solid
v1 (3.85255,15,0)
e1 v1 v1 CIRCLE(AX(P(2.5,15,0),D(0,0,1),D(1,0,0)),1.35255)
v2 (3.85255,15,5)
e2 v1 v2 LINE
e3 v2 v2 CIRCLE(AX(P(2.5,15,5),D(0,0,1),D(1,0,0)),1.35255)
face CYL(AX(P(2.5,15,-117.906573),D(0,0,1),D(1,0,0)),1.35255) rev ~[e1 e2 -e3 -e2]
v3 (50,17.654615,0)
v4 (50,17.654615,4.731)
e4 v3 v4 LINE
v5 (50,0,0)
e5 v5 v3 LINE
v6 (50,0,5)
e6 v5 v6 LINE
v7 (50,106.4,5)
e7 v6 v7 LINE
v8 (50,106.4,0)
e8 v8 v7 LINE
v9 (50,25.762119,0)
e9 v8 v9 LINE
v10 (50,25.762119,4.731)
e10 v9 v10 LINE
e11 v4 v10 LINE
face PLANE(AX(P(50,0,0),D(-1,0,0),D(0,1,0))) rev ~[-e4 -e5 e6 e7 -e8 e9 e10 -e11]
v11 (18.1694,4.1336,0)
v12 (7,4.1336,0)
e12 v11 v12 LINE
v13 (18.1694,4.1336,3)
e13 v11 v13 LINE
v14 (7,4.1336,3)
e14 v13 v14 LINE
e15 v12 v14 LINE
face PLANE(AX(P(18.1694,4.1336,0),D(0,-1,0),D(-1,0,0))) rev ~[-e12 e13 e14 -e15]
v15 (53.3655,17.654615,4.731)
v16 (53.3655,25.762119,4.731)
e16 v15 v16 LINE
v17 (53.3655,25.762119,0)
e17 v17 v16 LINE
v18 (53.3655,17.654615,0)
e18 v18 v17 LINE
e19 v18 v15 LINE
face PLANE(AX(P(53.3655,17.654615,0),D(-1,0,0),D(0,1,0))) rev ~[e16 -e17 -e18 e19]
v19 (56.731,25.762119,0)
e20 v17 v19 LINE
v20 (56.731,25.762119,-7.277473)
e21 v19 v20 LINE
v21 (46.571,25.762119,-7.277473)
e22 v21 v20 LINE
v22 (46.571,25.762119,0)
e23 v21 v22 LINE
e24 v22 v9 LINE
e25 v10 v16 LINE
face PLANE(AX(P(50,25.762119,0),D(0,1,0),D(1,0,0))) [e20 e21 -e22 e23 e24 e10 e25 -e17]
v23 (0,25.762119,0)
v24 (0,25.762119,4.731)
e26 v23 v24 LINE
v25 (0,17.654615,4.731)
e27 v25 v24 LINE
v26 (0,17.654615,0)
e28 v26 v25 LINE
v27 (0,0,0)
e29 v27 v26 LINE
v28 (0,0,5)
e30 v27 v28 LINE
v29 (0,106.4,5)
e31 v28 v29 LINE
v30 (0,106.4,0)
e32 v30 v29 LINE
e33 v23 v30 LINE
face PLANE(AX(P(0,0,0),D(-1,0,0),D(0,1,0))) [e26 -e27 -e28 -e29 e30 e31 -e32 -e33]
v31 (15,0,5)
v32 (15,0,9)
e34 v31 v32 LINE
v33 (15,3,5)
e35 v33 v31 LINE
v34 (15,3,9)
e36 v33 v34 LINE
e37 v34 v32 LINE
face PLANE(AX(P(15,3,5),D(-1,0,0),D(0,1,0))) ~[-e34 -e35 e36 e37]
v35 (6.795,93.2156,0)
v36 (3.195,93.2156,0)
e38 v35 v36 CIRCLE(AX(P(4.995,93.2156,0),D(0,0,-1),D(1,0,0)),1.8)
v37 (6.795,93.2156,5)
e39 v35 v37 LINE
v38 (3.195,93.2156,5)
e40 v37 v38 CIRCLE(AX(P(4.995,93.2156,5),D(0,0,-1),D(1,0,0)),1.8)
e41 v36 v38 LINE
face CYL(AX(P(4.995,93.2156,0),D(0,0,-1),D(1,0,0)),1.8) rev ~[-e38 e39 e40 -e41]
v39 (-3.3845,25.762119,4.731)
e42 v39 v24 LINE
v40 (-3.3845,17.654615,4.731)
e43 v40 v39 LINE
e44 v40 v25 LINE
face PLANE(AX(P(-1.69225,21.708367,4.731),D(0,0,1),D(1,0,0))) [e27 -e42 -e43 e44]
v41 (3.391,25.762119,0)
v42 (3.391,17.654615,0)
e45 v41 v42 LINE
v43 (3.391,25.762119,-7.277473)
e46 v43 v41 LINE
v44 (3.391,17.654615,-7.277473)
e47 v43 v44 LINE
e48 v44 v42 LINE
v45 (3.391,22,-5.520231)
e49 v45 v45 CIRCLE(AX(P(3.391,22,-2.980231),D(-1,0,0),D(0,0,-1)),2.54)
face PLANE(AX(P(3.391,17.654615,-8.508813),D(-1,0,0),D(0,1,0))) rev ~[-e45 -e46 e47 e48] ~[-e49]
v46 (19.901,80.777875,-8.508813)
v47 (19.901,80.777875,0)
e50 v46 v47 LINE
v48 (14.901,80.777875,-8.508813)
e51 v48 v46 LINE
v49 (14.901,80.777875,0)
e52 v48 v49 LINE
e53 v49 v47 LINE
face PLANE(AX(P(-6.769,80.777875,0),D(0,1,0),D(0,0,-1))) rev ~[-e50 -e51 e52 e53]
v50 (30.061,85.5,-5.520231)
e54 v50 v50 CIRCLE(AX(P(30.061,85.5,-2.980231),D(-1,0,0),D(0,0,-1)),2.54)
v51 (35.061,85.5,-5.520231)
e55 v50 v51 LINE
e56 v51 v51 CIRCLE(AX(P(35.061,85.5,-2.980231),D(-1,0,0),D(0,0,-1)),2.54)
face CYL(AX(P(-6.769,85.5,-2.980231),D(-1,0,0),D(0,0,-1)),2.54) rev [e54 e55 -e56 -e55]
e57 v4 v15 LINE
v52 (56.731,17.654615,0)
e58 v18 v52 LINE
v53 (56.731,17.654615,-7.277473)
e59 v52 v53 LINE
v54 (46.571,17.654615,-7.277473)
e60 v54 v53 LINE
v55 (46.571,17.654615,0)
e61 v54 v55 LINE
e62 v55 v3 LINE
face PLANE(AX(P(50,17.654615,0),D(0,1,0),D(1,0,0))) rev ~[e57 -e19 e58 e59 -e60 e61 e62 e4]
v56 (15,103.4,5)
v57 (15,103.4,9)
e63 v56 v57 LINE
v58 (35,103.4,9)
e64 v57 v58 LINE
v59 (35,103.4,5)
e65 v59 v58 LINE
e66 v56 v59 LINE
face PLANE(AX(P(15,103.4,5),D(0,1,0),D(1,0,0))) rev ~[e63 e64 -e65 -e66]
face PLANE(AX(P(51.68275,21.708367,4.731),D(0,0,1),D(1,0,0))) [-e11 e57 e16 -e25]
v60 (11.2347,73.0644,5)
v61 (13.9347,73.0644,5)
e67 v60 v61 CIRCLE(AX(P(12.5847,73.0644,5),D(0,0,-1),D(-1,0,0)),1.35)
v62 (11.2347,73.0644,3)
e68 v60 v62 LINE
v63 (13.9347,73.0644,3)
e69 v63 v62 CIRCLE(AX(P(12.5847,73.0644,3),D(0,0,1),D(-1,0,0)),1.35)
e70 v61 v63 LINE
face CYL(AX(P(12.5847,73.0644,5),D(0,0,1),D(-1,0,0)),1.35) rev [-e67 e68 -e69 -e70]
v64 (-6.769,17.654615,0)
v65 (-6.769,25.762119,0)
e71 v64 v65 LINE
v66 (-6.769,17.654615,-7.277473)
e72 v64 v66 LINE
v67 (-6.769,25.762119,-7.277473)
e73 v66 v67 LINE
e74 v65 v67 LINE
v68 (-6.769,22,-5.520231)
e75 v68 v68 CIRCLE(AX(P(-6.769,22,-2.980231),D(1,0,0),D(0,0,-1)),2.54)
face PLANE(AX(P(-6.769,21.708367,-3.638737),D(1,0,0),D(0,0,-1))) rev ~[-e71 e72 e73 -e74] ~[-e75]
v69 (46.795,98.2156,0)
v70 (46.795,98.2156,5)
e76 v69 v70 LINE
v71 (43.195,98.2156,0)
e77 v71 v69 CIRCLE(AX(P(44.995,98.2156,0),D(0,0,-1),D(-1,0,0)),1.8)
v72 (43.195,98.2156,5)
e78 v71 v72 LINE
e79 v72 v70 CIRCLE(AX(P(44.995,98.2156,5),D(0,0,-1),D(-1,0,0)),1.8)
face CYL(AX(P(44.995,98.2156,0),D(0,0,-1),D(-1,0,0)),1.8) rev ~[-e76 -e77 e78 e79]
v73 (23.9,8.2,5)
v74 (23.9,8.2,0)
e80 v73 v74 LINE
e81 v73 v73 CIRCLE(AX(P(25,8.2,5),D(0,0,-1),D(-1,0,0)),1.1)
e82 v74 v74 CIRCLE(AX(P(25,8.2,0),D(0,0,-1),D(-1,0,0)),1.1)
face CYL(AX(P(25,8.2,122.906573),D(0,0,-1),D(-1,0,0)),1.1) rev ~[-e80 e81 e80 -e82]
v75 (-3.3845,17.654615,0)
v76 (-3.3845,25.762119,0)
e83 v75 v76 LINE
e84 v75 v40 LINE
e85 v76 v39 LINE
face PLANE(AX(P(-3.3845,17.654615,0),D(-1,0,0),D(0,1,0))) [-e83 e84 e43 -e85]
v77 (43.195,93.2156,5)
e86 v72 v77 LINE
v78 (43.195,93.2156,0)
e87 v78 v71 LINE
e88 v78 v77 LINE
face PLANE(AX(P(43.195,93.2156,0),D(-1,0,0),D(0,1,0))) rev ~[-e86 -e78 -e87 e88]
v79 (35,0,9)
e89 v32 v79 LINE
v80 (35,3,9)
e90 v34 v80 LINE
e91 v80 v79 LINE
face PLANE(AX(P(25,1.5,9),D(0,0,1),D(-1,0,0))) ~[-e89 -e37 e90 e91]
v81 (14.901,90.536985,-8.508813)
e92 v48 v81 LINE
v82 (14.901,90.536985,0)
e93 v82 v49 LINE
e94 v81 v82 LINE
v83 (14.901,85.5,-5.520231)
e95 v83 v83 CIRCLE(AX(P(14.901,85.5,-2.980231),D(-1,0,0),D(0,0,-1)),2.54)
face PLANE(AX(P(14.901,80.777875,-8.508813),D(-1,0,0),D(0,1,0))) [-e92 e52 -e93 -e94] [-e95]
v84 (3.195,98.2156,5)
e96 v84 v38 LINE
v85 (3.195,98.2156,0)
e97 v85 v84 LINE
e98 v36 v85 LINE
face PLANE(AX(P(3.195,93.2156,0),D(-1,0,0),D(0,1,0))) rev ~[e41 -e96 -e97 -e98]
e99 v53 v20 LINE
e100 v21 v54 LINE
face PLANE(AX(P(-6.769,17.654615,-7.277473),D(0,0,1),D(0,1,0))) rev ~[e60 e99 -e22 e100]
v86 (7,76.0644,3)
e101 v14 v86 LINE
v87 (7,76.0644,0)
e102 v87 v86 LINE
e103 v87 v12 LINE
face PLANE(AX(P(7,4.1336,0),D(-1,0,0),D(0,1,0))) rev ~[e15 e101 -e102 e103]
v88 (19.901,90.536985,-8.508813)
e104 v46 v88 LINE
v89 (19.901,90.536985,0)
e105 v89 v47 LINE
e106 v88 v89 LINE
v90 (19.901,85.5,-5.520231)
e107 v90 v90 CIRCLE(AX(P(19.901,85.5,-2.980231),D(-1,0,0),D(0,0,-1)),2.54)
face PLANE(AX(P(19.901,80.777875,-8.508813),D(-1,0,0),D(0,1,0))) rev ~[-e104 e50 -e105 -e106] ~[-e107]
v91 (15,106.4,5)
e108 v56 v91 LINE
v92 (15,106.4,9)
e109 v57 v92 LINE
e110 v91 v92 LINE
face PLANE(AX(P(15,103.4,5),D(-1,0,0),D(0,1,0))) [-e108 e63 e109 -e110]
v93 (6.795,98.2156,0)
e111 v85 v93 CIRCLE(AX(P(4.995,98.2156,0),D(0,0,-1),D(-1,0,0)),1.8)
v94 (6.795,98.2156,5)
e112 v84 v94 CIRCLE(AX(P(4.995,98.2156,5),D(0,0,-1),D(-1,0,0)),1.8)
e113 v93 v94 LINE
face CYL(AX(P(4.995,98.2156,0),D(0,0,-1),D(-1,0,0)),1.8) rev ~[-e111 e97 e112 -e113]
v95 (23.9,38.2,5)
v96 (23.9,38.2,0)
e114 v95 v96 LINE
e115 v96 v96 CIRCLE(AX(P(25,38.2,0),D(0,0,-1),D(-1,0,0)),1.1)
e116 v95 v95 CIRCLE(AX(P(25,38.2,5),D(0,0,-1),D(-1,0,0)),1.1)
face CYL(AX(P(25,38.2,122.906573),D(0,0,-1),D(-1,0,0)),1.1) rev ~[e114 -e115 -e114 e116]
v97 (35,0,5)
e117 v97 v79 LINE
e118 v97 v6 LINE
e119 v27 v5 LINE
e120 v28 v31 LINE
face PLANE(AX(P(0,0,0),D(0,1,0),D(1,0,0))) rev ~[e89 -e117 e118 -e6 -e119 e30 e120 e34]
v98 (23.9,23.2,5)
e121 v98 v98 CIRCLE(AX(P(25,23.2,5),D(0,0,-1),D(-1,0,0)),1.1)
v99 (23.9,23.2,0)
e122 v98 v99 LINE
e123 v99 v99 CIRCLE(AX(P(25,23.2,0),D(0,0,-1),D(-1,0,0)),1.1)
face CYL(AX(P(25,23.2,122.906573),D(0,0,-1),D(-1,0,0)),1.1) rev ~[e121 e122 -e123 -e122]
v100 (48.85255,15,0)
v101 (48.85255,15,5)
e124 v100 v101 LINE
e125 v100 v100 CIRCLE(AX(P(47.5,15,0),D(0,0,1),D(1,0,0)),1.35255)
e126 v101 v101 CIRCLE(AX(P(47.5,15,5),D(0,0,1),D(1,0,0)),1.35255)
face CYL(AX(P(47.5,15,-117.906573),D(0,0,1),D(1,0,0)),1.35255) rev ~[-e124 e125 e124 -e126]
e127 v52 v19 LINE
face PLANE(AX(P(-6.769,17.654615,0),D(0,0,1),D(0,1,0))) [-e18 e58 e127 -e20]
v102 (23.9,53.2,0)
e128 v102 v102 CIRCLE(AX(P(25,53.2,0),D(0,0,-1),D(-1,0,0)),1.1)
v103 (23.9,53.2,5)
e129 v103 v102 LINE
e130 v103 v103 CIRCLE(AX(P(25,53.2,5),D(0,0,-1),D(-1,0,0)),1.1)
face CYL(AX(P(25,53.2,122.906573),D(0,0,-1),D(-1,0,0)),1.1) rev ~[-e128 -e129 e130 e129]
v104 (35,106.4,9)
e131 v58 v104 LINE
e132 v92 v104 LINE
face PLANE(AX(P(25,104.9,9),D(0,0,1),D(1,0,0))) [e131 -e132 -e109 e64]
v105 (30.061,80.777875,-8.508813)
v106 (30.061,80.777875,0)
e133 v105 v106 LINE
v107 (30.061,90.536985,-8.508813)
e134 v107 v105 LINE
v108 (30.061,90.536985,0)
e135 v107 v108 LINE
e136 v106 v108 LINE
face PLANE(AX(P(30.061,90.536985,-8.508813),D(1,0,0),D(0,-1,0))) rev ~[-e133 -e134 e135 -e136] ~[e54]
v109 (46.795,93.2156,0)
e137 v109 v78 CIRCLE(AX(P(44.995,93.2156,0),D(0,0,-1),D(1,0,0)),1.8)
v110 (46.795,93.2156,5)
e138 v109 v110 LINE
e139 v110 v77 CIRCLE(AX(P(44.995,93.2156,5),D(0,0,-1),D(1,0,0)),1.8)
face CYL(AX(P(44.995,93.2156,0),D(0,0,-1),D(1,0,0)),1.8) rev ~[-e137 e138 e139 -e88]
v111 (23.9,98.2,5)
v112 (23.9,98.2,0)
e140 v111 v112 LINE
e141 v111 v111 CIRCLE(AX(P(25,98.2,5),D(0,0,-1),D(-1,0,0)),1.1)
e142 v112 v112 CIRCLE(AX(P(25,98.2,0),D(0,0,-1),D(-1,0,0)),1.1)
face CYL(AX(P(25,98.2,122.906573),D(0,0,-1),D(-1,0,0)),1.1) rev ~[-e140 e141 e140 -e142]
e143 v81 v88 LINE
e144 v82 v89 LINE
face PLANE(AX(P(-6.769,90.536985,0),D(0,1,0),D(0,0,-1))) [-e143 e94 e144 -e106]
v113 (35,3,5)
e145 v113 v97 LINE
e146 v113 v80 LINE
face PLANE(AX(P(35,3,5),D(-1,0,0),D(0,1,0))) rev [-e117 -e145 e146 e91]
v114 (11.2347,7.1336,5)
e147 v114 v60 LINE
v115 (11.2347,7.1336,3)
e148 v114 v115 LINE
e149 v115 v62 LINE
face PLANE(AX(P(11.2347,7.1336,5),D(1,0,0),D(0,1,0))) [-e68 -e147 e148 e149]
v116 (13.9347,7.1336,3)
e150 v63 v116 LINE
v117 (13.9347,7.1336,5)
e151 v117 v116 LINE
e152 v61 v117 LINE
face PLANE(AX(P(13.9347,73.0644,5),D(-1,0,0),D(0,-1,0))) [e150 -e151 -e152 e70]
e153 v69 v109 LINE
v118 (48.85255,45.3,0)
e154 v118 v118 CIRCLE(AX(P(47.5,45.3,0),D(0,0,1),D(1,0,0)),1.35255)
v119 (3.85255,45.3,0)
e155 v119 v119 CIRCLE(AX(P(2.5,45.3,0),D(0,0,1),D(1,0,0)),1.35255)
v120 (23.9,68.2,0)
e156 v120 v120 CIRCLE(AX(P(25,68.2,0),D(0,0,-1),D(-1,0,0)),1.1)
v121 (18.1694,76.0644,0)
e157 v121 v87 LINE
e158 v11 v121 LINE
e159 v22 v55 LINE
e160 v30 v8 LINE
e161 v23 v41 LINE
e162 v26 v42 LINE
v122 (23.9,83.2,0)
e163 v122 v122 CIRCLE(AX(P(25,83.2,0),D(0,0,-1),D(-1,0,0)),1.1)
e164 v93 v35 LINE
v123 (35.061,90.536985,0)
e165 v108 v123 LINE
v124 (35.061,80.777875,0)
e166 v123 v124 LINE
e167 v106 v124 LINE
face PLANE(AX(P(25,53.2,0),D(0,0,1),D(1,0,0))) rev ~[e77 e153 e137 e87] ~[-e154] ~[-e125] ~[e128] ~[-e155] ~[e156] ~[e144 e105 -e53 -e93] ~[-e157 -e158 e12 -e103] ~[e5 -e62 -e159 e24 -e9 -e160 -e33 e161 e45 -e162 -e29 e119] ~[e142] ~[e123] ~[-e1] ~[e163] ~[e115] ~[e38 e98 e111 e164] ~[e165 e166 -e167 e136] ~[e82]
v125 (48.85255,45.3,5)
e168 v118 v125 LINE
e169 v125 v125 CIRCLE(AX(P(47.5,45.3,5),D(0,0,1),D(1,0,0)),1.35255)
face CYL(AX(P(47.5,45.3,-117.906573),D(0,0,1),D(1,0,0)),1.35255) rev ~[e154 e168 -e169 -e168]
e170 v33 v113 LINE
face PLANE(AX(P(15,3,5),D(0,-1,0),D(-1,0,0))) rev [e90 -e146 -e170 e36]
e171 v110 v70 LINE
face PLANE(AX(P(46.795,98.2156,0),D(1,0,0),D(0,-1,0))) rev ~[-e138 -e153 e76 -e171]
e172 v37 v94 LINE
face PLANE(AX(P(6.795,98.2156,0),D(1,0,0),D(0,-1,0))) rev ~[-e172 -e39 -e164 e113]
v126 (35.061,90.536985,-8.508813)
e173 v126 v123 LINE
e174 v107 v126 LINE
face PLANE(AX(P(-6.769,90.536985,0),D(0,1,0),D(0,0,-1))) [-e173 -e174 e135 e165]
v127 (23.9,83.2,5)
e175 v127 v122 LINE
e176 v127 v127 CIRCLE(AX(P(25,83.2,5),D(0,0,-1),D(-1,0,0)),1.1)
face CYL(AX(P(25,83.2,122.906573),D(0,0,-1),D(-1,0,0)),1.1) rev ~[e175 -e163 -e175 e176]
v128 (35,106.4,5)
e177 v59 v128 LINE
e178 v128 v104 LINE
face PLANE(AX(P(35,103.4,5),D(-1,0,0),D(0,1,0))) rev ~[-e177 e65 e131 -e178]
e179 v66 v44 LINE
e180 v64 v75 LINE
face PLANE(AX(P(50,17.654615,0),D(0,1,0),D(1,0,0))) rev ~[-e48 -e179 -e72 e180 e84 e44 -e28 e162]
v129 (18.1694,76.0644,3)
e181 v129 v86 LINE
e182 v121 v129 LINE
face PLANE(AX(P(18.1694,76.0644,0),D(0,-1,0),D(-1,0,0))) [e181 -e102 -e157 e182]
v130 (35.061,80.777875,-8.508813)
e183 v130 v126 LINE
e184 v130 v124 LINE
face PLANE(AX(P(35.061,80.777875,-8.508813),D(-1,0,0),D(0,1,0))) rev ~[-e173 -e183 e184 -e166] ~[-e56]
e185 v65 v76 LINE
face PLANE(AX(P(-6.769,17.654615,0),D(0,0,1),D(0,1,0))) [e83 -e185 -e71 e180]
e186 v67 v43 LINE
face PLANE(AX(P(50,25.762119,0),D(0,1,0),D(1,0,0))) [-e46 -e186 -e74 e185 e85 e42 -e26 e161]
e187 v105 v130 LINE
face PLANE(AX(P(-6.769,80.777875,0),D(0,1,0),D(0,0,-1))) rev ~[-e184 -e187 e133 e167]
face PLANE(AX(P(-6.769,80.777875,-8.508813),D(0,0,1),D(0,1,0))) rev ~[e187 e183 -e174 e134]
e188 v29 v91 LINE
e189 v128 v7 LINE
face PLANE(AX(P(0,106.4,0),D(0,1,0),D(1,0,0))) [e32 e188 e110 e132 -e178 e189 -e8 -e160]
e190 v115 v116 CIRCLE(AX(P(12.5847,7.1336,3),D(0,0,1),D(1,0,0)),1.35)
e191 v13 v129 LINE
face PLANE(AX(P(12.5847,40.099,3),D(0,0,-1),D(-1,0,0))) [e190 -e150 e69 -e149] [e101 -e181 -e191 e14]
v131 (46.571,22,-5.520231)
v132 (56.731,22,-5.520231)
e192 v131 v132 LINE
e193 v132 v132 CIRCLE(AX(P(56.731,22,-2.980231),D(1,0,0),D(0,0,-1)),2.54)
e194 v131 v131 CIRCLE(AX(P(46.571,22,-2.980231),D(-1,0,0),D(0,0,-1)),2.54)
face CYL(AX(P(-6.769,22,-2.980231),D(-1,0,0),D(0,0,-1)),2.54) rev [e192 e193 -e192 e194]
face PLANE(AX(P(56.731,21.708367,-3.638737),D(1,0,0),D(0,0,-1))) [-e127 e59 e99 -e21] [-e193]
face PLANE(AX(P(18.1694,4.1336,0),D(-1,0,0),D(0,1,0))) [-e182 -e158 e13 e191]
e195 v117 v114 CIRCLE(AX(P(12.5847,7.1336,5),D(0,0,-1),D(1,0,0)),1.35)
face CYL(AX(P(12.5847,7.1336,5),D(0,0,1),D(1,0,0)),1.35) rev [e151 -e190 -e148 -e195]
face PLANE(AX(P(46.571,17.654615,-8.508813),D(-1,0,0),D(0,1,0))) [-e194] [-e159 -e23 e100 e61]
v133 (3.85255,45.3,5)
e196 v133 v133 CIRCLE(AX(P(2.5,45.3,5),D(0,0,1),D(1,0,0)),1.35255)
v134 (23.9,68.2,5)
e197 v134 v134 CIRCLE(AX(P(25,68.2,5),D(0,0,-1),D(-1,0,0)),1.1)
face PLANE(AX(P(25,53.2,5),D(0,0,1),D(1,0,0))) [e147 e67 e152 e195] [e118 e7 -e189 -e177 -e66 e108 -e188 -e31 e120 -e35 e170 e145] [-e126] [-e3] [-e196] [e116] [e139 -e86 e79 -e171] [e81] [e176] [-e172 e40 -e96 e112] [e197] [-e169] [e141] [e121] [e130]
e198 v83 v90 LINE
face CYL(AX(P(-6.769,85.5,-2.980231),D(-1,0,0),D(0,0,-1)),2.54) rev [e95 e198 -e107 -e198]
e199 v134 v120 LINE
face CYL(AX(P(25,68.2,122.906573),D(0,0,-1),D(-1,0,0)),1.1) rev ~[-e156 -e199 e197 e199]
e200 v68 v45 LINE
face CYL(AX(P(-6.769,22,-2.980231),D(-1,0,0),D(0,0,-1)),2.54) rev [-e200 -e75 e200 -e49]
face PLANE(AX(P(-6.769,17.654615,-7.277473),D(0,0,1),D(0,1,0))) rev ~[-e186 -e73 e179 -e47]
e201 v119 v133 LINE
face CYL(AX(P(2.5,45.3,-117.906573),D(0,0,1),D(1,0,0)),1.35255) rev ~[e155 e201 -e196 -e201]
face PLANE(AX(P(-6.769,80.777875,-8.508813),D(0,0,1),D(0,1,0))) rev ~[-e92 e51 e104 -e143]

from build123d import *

# Parameters (mm, degrees)
SKETCH1_W                   = 50
SKETCH1_H                   = 106.4
BOSS_EXTRUDE1_DEPTH         = 5
SKETCH2_W                   = 20
SKETCH2_H                   = 3
BOSS_EXTRUDE2_DEPTH         = 4
TAP_DRILL_FOR_M2X0_4_TAP1_D = 2.2
LPATTERN1_COUNT             = 4
LPATTERN1_PITCH             = 15
LPATTERN1_COL_COUNT         = 4
LPATTERN1_COL_PITCH         = 15
CUT_EXTRUDE1_DEPTH          = 118.668857392
SKETCH7_W                   = 11.1694
SKETCH7_H                   = 71.9308
CUT_EXTRUDE2_DEPTH          = 3
F_2_CLEARANCE_HOLE1_D       = 2.7051
SKETCH11_R                  = 1.8
CUT_EXTRUDE3_DEPTH          = 118.906573184
BOSS_EXTRUDE5_DEPTH         = 6.731
BOSS_EXTRUDE5_DEPTH_BACK    = 56.769
SKETCH14_W                  = 7.277473249
SKETCH14_H                  = 8.107504071
SKETCH14_R                  = 2.54
SKETCH14_W_2                = 8.508813203
SKETCH14_H_2                = 9.759110034
SKETCH15_W                  = 3.3655
SKETCH15_H                  = 8.107504071
SKETCH15_W_2                = 3.3845
BOSS_EXTRUDE6_DEPTH         = 4.731
CUT_EXTRUDE4_REACH          = 123.844
SKETCH16_W                  = 43.18
SKETCH16_H                  = 8.107504071
SKETCH16_W_2                = 21.67
SKETCH16_H_2                = 9.759110034


with BuildPart() as part:
    # Sketch1 → Boss-Extrude1 (new body)
    with BuildSketch(Plane.XY):
        with Locations((25, 53.2)):
            Rectangle(SKETCH1_W, SKETCH1_H)
    extrude(amount=BOSS_EXTRUDE1_DEPTH)

    # Sketch2 → Boss-Extrude2 (add)
    with BuildSketch(Plane.XY.offset(5)):
        with Locations((25, 104.9)):
            Rectangle(SKETCH2_W, SKETCH2_H)
    boss_extrude2 = extrude(amount=BOSS_EXTRUDE2_DEPTH)

    # Mirror1: Boss-Extrude2 across plane
    add(boss_extrude2.mirror(Plane.ZX.offset(53.2)))

    # Tap Drill for M2x0.4 Tap1 (through all)
    with Locations(Plane.XY.offset(5)):
        with Locations((25, 53.2)):
            tap_drill_for_m2x0_4_tap1 = Hole(TAP_DRILL_FOR_M2X0_4_TAP1_D / 2)

    # LPattern1: Tap Drill for M2x0.4 Tap1 ×4
    with Locations(*[(0, -i * LPATTERN1_PITCH, 0) for i in range(1, LPATTERN1_COUNT)]):
        add(tap_drill_for_m2x0_4_tap1, mode=Mode.SUBTRACT)

    # LPattern1 col: Tap Drill for M2x0.4 Tap1 ×4
    with Locations(*[(0, i * LPATTERN1_COL_PITCH, 0) for i in range(1, LPATTERN1_COL_COUNT)]):
        add(tap_drill_for_m2x0_4_tap1, mode=Mode.SUBTRACT)

    # Sketch6 → Cut-Extrude1 (cut, through all)
    with BuildSketch(Plane.XY.offset(5)):
        with BuildLine():
            Line((11.2347, 7.1336), (11.2347, 73.0644))
            ThreePointArc((11.2347, 73.0644), (12.5847, 74.4144), (13.9347, 73.0644))
            Line((13.9347, 73.0644), (13.9347, 7.1336))
            ThreePointArc((13.9347, 7.1336), (12.5847, 5.7836), (11.2347, 7.1336))
        make_face()
    extrude(amount=-CUT_EXTRUDE1_DEPTH, mode=Mode.SUBTRACT)

    # Sketch7 → Cut-Extrude2 (cut)
    with BuildSketch(Plane(origin=(0, 0, 0), x_dir=(-1, 0, 0), z_dir=(0, 0, -1))):
        with Locations((-12.5847, 40.099)):
            Rectangle(SKETCH7_W, SKETCH7_H)
    extrude(amount=-CUT_EXTRUDE2_DEPTH, mode=Mode.SUBTRACT)

    # #2 Clearance Hole1 (through all)
    with Locations(Plane(origin=(0, 0, 0), x_dir=(-1, 0, 0), z_dir=(0, 0, -1))):
        with Locations((-47.5, 45.3), (-2.5, 45.3), (-2.5, 15), (-47.5, 15)):
            Hole(F_2_CLEARANCE_HOLE1_D / 2)

    # Sketch11 → Cut-Extrude3 (cut, through all)
    with BuildSketch(Plane(origin=(0, 0, 0), x_dir=(-1, 0, 0), z_dir=(0, 0, -1))):
        with BuildLine():
            Line((-46.795, 98.2156), (-46.795, 95.7156))
            ThreePointArc((-46.795, 95.7156), (-44.995, 97.5156), (-43.195, 95.7156))
            Line((-43.195, 95.7156), (-43.195, 98.2156))
            ThreePointArc((-43.195, 98.2156), (-44.995, 100.0156), (-46.795, 98.2156))
        make_face()
        with Locations((-44.995, 95.7156)):
            Circle(SKETCH11_R)
        with BuildLine():
            Line((-46.795, 95.7156), (-46.795, 93.2156))
            ThreePointArc((-46.795, 93.2156), (-44.995, 91.4156), (-43.195, 93.2156))
            Line((-43.195, 93.2156), (-43.195, 95.7156))
            ThreePointArc((-43.195, 95.7156), (-44.995, 93.9156), (-46.795, 95.7156))
        make_face()
        with BuildLine():
            Line((-6.795, 98.2156), (-6.795, 95.715599993))
            ThreePointArc((-6.795, 95.715599993), (-4.995000003, 97.5156), (-3.195, 95.7156))
            Line((-3.195, 95.7156), (-3.195, 98.2156))
            ThreePointArc((-3.195, 98.2156), (-4.995, 100.0156), (-6.795, 98.2156))
        make_face()
        with Locations((-4.995, 95.7156)):
            Circle(SKETCH11_R)
        with BuildLine():
            Line((-6.795, 95.715599993), (-6.795, 93.2156))
            ThreePointArc((-6.795, 93.2156), (-4.995, 91.4156), (-3.195, 93.2156))
            Line((-3.195, 93.2156), (-3.195, 95.7156))
            ThreePointArc((-3.195, 95.7156), (-4.994999997, 93.9156), (-6.795, 95.715599993))
        make_face()
    extrude(amount=-CUT_EXTRUDE3_DEPTH, mode=Mode.SUBTRACT)

    # Sketch14 → Boss-Extrude5 (add, two sides: drawn at the far end of the back side and taken through both)
    # profile 1 of 2: a face of its own
    with BuildSketch(Plane(origin=(50, 0, 0), x_dir=(0, 0, -1), z_dir=(1, 0, 0)).offset(-BOSS_EXTRUDE5_DEPTH_BACK)):
        with Locations((3.638736625, 21.708366631)):
            Rectangle(SKETCH14_W, SKETCH14_H)
        with Locations((2.980230777, 22)):
            Circle(SKETCH14_R, mode=Mode.SUBTRACT)
    # profile 2 of 2: a face of its own
    with BuildSketch(Plane(origin=(50, 0, 0), x_dir=(0, 0, -1), z_dir=(1, 0, 0)).offset(-BOSS_EXTRUDE5_DEPTH_BACK)):
        with Locations((4.254406602, 85.657429776)):
            Rectangle(SKETCH14_W_2, SKETCH14_H_2)
        with Locations((2.980230777, 85.5)):
            Circle(SKETCH14_R, mode=Mode.SUBTRACT)
    extrude(amount=BOSS_EXTRUDE5_DEPTH + BOSS_EXTRUDE5_DEPTH_BACK)

    # Sketch15 → Boss-Extrude6 (add)
    with BuildSketch(Plane.XY):
        with Locations((51.68275, 21.708366631)):
            Rectangle(SKETCH15_W, SKETCH15_H)
        with Locations((-1.69225, 21.708366631)):
            Rectangle(SKETCH15_W_2, SKETCH15_H)
    extrude(amount=BOSS_EXTRUDE6_DEPTH)

    # Cut-Extrude4: up to this face of the body (flat: up to its plane)
    cut_extrude4_end = Plane(part.part.faces().sort_by_distance((28.220383902, 53.923969289, 0))[0])
    # Sketch16 → Cut-Extrude4 (cut, up to the picked face)
    with BuildSketch(Plane(origin=(0, 0, -8.508813203), x_dir=(-1, 0, 0), z_dir=(0, 0, -1)), mode=Mode.PRIVATE) as cut_extrude4_sk1:
        with Locations((-24.981, 21.708366631)):
            Rectangle(SKETCH16_W, SKETCH16_H)
    cut_extrude4_tool1 = split(extrude(cut_extrude4_sk1.sketch, amount=-CUT_EXTRUDE4_REACH, mode=Mode.PRIVATE), bisect_by=cut_extrude4_end, keep=Keep.BOTH, mode=Mode.PRIVATE)
    # Sketch16 → Cut-Extrude4 (cut, up to the picked face)
    with BuildSketch(Plane(origin=(0, 0, -8.508813203), x_dir=(-1, 0, 0), z_dir=(0, 0, -1)), mode=Mode.PRIVATE) as cut_extrude4_sk2:
        Polygon((-19.901, 80.777874759), (-30.061, 90.536984793), (-30.061, 80.777874759), align=None)
    cut_extrude4_tool2 = split(extrude(cut_extrude4_sk2.sketch, amount=-CUT_EXTRUDE4_REACH, mode=Mode.PRIVATE), bisect_by=cut_extrude4_end, keep=Keep.BOTH, mode=Mode.PRIVATE)
    # Sketch16 → Cut-Extrude4 (cut, up to the picked face)
    with BuildSketch(Plane(origin=(0, 0, -8.508813203), x_dir=(-1, 0, 0), z_dir=(0, 0, -1)), mode=Mode.PRIVATE) as cut_extrude4_sk3:
        Polygon((-19.901, 90.536984793), (-30.061, 90.536984793), (-19.901, 80.777874759), align=None)
    cut_extrude4_tool3 = split(extrude(cut_extrude4_sk3.sketch, amount=-CUT_EXTRUDE4_REACH, mode=Mode.PRIVATE), bisect_by=cut_extrude4_end, keep=Keep.BOTH, mode=Mode.PRIVATE)
    # Sketch16 → Cut-Extrude4 (cut, up to the picked face)
    with BuildSketch(Plane(origin=(0, 0, -8.508813203), x_dir=(-1, 0, 0), z_dir=(0, 0, -1)), mode=Mode.PRIVATE) as cut_extrude4_sk4:
        with Locations((-45.896, 85.657429776)):
            Rectangle(SKETCH16_W_2, SKETCH16_H_2)
    cut_extrude4_tool4 = split(extrude(cut_extrude4_sk4.sketch, amount=-CUT_EXTRUDE4_REACH, mode=Mode.PRIVATE), bisect_by=cut_extrude4_end, keep=Keep.BOTH, mode=Mode.PRIVATE)
    # Sketch16 → Cut-Extrude4 (cut, up to the picked face)
    with BuildSketch(Plane(origin=(0, 0, -8.508813203), x_dir=(-1, 0, 0), z_dir=(0, 0, -1)), mode=Mode.PRIVATE) as cut_extrude4_sk5:
        with Locations((-4.066, 85.657429776)):
            Rectangle(SKETCH16_W_2, SKETCH16_H_2)
    cut_extrude4_tool5 = split(extrude(cut_extrude4_sk5.sketch, amount=-CUT_EXTRUDE4_REACH, mode=Mode.PRIVATE), bisect_by=cut_extrude4_end, keep=Keep.BOTH, mode=Mode.PRIVATE)
    add(cut_extrude4_tool1.solids().sort_by(Axis((24.981, 21.708367, -8.508813), (0, 0, 1)))[0], mode=Mode.SUBTRACT)
    add(cut_extrude4_tool2.solids().sort_by(Axis((26.674333, 84.030911, -8.508813), (0, 0, 1)))[0], mode=Mode.SUBTRACT)
    add(cut_extrude4_tool3.solids().sort_by(Axis((23.287667, 87.283948, -8.508813), (0, 0, 1)))[0], mode=Mode.SUBTRACT)
    add(cut_extrude4_tool4.solids().sort_by(Axis((45.896, 85.65743, -8.508813), (0, 0, 1)))[0], mode=Mode.SUBTRACT)
    add(cut_extrude4_tool5.solids().sort_by(Axis((4.066, 85.65743, -8.508813), (0, 0, 1)))[0], mode=Mode.SUBTRACT)


solid = part.part
